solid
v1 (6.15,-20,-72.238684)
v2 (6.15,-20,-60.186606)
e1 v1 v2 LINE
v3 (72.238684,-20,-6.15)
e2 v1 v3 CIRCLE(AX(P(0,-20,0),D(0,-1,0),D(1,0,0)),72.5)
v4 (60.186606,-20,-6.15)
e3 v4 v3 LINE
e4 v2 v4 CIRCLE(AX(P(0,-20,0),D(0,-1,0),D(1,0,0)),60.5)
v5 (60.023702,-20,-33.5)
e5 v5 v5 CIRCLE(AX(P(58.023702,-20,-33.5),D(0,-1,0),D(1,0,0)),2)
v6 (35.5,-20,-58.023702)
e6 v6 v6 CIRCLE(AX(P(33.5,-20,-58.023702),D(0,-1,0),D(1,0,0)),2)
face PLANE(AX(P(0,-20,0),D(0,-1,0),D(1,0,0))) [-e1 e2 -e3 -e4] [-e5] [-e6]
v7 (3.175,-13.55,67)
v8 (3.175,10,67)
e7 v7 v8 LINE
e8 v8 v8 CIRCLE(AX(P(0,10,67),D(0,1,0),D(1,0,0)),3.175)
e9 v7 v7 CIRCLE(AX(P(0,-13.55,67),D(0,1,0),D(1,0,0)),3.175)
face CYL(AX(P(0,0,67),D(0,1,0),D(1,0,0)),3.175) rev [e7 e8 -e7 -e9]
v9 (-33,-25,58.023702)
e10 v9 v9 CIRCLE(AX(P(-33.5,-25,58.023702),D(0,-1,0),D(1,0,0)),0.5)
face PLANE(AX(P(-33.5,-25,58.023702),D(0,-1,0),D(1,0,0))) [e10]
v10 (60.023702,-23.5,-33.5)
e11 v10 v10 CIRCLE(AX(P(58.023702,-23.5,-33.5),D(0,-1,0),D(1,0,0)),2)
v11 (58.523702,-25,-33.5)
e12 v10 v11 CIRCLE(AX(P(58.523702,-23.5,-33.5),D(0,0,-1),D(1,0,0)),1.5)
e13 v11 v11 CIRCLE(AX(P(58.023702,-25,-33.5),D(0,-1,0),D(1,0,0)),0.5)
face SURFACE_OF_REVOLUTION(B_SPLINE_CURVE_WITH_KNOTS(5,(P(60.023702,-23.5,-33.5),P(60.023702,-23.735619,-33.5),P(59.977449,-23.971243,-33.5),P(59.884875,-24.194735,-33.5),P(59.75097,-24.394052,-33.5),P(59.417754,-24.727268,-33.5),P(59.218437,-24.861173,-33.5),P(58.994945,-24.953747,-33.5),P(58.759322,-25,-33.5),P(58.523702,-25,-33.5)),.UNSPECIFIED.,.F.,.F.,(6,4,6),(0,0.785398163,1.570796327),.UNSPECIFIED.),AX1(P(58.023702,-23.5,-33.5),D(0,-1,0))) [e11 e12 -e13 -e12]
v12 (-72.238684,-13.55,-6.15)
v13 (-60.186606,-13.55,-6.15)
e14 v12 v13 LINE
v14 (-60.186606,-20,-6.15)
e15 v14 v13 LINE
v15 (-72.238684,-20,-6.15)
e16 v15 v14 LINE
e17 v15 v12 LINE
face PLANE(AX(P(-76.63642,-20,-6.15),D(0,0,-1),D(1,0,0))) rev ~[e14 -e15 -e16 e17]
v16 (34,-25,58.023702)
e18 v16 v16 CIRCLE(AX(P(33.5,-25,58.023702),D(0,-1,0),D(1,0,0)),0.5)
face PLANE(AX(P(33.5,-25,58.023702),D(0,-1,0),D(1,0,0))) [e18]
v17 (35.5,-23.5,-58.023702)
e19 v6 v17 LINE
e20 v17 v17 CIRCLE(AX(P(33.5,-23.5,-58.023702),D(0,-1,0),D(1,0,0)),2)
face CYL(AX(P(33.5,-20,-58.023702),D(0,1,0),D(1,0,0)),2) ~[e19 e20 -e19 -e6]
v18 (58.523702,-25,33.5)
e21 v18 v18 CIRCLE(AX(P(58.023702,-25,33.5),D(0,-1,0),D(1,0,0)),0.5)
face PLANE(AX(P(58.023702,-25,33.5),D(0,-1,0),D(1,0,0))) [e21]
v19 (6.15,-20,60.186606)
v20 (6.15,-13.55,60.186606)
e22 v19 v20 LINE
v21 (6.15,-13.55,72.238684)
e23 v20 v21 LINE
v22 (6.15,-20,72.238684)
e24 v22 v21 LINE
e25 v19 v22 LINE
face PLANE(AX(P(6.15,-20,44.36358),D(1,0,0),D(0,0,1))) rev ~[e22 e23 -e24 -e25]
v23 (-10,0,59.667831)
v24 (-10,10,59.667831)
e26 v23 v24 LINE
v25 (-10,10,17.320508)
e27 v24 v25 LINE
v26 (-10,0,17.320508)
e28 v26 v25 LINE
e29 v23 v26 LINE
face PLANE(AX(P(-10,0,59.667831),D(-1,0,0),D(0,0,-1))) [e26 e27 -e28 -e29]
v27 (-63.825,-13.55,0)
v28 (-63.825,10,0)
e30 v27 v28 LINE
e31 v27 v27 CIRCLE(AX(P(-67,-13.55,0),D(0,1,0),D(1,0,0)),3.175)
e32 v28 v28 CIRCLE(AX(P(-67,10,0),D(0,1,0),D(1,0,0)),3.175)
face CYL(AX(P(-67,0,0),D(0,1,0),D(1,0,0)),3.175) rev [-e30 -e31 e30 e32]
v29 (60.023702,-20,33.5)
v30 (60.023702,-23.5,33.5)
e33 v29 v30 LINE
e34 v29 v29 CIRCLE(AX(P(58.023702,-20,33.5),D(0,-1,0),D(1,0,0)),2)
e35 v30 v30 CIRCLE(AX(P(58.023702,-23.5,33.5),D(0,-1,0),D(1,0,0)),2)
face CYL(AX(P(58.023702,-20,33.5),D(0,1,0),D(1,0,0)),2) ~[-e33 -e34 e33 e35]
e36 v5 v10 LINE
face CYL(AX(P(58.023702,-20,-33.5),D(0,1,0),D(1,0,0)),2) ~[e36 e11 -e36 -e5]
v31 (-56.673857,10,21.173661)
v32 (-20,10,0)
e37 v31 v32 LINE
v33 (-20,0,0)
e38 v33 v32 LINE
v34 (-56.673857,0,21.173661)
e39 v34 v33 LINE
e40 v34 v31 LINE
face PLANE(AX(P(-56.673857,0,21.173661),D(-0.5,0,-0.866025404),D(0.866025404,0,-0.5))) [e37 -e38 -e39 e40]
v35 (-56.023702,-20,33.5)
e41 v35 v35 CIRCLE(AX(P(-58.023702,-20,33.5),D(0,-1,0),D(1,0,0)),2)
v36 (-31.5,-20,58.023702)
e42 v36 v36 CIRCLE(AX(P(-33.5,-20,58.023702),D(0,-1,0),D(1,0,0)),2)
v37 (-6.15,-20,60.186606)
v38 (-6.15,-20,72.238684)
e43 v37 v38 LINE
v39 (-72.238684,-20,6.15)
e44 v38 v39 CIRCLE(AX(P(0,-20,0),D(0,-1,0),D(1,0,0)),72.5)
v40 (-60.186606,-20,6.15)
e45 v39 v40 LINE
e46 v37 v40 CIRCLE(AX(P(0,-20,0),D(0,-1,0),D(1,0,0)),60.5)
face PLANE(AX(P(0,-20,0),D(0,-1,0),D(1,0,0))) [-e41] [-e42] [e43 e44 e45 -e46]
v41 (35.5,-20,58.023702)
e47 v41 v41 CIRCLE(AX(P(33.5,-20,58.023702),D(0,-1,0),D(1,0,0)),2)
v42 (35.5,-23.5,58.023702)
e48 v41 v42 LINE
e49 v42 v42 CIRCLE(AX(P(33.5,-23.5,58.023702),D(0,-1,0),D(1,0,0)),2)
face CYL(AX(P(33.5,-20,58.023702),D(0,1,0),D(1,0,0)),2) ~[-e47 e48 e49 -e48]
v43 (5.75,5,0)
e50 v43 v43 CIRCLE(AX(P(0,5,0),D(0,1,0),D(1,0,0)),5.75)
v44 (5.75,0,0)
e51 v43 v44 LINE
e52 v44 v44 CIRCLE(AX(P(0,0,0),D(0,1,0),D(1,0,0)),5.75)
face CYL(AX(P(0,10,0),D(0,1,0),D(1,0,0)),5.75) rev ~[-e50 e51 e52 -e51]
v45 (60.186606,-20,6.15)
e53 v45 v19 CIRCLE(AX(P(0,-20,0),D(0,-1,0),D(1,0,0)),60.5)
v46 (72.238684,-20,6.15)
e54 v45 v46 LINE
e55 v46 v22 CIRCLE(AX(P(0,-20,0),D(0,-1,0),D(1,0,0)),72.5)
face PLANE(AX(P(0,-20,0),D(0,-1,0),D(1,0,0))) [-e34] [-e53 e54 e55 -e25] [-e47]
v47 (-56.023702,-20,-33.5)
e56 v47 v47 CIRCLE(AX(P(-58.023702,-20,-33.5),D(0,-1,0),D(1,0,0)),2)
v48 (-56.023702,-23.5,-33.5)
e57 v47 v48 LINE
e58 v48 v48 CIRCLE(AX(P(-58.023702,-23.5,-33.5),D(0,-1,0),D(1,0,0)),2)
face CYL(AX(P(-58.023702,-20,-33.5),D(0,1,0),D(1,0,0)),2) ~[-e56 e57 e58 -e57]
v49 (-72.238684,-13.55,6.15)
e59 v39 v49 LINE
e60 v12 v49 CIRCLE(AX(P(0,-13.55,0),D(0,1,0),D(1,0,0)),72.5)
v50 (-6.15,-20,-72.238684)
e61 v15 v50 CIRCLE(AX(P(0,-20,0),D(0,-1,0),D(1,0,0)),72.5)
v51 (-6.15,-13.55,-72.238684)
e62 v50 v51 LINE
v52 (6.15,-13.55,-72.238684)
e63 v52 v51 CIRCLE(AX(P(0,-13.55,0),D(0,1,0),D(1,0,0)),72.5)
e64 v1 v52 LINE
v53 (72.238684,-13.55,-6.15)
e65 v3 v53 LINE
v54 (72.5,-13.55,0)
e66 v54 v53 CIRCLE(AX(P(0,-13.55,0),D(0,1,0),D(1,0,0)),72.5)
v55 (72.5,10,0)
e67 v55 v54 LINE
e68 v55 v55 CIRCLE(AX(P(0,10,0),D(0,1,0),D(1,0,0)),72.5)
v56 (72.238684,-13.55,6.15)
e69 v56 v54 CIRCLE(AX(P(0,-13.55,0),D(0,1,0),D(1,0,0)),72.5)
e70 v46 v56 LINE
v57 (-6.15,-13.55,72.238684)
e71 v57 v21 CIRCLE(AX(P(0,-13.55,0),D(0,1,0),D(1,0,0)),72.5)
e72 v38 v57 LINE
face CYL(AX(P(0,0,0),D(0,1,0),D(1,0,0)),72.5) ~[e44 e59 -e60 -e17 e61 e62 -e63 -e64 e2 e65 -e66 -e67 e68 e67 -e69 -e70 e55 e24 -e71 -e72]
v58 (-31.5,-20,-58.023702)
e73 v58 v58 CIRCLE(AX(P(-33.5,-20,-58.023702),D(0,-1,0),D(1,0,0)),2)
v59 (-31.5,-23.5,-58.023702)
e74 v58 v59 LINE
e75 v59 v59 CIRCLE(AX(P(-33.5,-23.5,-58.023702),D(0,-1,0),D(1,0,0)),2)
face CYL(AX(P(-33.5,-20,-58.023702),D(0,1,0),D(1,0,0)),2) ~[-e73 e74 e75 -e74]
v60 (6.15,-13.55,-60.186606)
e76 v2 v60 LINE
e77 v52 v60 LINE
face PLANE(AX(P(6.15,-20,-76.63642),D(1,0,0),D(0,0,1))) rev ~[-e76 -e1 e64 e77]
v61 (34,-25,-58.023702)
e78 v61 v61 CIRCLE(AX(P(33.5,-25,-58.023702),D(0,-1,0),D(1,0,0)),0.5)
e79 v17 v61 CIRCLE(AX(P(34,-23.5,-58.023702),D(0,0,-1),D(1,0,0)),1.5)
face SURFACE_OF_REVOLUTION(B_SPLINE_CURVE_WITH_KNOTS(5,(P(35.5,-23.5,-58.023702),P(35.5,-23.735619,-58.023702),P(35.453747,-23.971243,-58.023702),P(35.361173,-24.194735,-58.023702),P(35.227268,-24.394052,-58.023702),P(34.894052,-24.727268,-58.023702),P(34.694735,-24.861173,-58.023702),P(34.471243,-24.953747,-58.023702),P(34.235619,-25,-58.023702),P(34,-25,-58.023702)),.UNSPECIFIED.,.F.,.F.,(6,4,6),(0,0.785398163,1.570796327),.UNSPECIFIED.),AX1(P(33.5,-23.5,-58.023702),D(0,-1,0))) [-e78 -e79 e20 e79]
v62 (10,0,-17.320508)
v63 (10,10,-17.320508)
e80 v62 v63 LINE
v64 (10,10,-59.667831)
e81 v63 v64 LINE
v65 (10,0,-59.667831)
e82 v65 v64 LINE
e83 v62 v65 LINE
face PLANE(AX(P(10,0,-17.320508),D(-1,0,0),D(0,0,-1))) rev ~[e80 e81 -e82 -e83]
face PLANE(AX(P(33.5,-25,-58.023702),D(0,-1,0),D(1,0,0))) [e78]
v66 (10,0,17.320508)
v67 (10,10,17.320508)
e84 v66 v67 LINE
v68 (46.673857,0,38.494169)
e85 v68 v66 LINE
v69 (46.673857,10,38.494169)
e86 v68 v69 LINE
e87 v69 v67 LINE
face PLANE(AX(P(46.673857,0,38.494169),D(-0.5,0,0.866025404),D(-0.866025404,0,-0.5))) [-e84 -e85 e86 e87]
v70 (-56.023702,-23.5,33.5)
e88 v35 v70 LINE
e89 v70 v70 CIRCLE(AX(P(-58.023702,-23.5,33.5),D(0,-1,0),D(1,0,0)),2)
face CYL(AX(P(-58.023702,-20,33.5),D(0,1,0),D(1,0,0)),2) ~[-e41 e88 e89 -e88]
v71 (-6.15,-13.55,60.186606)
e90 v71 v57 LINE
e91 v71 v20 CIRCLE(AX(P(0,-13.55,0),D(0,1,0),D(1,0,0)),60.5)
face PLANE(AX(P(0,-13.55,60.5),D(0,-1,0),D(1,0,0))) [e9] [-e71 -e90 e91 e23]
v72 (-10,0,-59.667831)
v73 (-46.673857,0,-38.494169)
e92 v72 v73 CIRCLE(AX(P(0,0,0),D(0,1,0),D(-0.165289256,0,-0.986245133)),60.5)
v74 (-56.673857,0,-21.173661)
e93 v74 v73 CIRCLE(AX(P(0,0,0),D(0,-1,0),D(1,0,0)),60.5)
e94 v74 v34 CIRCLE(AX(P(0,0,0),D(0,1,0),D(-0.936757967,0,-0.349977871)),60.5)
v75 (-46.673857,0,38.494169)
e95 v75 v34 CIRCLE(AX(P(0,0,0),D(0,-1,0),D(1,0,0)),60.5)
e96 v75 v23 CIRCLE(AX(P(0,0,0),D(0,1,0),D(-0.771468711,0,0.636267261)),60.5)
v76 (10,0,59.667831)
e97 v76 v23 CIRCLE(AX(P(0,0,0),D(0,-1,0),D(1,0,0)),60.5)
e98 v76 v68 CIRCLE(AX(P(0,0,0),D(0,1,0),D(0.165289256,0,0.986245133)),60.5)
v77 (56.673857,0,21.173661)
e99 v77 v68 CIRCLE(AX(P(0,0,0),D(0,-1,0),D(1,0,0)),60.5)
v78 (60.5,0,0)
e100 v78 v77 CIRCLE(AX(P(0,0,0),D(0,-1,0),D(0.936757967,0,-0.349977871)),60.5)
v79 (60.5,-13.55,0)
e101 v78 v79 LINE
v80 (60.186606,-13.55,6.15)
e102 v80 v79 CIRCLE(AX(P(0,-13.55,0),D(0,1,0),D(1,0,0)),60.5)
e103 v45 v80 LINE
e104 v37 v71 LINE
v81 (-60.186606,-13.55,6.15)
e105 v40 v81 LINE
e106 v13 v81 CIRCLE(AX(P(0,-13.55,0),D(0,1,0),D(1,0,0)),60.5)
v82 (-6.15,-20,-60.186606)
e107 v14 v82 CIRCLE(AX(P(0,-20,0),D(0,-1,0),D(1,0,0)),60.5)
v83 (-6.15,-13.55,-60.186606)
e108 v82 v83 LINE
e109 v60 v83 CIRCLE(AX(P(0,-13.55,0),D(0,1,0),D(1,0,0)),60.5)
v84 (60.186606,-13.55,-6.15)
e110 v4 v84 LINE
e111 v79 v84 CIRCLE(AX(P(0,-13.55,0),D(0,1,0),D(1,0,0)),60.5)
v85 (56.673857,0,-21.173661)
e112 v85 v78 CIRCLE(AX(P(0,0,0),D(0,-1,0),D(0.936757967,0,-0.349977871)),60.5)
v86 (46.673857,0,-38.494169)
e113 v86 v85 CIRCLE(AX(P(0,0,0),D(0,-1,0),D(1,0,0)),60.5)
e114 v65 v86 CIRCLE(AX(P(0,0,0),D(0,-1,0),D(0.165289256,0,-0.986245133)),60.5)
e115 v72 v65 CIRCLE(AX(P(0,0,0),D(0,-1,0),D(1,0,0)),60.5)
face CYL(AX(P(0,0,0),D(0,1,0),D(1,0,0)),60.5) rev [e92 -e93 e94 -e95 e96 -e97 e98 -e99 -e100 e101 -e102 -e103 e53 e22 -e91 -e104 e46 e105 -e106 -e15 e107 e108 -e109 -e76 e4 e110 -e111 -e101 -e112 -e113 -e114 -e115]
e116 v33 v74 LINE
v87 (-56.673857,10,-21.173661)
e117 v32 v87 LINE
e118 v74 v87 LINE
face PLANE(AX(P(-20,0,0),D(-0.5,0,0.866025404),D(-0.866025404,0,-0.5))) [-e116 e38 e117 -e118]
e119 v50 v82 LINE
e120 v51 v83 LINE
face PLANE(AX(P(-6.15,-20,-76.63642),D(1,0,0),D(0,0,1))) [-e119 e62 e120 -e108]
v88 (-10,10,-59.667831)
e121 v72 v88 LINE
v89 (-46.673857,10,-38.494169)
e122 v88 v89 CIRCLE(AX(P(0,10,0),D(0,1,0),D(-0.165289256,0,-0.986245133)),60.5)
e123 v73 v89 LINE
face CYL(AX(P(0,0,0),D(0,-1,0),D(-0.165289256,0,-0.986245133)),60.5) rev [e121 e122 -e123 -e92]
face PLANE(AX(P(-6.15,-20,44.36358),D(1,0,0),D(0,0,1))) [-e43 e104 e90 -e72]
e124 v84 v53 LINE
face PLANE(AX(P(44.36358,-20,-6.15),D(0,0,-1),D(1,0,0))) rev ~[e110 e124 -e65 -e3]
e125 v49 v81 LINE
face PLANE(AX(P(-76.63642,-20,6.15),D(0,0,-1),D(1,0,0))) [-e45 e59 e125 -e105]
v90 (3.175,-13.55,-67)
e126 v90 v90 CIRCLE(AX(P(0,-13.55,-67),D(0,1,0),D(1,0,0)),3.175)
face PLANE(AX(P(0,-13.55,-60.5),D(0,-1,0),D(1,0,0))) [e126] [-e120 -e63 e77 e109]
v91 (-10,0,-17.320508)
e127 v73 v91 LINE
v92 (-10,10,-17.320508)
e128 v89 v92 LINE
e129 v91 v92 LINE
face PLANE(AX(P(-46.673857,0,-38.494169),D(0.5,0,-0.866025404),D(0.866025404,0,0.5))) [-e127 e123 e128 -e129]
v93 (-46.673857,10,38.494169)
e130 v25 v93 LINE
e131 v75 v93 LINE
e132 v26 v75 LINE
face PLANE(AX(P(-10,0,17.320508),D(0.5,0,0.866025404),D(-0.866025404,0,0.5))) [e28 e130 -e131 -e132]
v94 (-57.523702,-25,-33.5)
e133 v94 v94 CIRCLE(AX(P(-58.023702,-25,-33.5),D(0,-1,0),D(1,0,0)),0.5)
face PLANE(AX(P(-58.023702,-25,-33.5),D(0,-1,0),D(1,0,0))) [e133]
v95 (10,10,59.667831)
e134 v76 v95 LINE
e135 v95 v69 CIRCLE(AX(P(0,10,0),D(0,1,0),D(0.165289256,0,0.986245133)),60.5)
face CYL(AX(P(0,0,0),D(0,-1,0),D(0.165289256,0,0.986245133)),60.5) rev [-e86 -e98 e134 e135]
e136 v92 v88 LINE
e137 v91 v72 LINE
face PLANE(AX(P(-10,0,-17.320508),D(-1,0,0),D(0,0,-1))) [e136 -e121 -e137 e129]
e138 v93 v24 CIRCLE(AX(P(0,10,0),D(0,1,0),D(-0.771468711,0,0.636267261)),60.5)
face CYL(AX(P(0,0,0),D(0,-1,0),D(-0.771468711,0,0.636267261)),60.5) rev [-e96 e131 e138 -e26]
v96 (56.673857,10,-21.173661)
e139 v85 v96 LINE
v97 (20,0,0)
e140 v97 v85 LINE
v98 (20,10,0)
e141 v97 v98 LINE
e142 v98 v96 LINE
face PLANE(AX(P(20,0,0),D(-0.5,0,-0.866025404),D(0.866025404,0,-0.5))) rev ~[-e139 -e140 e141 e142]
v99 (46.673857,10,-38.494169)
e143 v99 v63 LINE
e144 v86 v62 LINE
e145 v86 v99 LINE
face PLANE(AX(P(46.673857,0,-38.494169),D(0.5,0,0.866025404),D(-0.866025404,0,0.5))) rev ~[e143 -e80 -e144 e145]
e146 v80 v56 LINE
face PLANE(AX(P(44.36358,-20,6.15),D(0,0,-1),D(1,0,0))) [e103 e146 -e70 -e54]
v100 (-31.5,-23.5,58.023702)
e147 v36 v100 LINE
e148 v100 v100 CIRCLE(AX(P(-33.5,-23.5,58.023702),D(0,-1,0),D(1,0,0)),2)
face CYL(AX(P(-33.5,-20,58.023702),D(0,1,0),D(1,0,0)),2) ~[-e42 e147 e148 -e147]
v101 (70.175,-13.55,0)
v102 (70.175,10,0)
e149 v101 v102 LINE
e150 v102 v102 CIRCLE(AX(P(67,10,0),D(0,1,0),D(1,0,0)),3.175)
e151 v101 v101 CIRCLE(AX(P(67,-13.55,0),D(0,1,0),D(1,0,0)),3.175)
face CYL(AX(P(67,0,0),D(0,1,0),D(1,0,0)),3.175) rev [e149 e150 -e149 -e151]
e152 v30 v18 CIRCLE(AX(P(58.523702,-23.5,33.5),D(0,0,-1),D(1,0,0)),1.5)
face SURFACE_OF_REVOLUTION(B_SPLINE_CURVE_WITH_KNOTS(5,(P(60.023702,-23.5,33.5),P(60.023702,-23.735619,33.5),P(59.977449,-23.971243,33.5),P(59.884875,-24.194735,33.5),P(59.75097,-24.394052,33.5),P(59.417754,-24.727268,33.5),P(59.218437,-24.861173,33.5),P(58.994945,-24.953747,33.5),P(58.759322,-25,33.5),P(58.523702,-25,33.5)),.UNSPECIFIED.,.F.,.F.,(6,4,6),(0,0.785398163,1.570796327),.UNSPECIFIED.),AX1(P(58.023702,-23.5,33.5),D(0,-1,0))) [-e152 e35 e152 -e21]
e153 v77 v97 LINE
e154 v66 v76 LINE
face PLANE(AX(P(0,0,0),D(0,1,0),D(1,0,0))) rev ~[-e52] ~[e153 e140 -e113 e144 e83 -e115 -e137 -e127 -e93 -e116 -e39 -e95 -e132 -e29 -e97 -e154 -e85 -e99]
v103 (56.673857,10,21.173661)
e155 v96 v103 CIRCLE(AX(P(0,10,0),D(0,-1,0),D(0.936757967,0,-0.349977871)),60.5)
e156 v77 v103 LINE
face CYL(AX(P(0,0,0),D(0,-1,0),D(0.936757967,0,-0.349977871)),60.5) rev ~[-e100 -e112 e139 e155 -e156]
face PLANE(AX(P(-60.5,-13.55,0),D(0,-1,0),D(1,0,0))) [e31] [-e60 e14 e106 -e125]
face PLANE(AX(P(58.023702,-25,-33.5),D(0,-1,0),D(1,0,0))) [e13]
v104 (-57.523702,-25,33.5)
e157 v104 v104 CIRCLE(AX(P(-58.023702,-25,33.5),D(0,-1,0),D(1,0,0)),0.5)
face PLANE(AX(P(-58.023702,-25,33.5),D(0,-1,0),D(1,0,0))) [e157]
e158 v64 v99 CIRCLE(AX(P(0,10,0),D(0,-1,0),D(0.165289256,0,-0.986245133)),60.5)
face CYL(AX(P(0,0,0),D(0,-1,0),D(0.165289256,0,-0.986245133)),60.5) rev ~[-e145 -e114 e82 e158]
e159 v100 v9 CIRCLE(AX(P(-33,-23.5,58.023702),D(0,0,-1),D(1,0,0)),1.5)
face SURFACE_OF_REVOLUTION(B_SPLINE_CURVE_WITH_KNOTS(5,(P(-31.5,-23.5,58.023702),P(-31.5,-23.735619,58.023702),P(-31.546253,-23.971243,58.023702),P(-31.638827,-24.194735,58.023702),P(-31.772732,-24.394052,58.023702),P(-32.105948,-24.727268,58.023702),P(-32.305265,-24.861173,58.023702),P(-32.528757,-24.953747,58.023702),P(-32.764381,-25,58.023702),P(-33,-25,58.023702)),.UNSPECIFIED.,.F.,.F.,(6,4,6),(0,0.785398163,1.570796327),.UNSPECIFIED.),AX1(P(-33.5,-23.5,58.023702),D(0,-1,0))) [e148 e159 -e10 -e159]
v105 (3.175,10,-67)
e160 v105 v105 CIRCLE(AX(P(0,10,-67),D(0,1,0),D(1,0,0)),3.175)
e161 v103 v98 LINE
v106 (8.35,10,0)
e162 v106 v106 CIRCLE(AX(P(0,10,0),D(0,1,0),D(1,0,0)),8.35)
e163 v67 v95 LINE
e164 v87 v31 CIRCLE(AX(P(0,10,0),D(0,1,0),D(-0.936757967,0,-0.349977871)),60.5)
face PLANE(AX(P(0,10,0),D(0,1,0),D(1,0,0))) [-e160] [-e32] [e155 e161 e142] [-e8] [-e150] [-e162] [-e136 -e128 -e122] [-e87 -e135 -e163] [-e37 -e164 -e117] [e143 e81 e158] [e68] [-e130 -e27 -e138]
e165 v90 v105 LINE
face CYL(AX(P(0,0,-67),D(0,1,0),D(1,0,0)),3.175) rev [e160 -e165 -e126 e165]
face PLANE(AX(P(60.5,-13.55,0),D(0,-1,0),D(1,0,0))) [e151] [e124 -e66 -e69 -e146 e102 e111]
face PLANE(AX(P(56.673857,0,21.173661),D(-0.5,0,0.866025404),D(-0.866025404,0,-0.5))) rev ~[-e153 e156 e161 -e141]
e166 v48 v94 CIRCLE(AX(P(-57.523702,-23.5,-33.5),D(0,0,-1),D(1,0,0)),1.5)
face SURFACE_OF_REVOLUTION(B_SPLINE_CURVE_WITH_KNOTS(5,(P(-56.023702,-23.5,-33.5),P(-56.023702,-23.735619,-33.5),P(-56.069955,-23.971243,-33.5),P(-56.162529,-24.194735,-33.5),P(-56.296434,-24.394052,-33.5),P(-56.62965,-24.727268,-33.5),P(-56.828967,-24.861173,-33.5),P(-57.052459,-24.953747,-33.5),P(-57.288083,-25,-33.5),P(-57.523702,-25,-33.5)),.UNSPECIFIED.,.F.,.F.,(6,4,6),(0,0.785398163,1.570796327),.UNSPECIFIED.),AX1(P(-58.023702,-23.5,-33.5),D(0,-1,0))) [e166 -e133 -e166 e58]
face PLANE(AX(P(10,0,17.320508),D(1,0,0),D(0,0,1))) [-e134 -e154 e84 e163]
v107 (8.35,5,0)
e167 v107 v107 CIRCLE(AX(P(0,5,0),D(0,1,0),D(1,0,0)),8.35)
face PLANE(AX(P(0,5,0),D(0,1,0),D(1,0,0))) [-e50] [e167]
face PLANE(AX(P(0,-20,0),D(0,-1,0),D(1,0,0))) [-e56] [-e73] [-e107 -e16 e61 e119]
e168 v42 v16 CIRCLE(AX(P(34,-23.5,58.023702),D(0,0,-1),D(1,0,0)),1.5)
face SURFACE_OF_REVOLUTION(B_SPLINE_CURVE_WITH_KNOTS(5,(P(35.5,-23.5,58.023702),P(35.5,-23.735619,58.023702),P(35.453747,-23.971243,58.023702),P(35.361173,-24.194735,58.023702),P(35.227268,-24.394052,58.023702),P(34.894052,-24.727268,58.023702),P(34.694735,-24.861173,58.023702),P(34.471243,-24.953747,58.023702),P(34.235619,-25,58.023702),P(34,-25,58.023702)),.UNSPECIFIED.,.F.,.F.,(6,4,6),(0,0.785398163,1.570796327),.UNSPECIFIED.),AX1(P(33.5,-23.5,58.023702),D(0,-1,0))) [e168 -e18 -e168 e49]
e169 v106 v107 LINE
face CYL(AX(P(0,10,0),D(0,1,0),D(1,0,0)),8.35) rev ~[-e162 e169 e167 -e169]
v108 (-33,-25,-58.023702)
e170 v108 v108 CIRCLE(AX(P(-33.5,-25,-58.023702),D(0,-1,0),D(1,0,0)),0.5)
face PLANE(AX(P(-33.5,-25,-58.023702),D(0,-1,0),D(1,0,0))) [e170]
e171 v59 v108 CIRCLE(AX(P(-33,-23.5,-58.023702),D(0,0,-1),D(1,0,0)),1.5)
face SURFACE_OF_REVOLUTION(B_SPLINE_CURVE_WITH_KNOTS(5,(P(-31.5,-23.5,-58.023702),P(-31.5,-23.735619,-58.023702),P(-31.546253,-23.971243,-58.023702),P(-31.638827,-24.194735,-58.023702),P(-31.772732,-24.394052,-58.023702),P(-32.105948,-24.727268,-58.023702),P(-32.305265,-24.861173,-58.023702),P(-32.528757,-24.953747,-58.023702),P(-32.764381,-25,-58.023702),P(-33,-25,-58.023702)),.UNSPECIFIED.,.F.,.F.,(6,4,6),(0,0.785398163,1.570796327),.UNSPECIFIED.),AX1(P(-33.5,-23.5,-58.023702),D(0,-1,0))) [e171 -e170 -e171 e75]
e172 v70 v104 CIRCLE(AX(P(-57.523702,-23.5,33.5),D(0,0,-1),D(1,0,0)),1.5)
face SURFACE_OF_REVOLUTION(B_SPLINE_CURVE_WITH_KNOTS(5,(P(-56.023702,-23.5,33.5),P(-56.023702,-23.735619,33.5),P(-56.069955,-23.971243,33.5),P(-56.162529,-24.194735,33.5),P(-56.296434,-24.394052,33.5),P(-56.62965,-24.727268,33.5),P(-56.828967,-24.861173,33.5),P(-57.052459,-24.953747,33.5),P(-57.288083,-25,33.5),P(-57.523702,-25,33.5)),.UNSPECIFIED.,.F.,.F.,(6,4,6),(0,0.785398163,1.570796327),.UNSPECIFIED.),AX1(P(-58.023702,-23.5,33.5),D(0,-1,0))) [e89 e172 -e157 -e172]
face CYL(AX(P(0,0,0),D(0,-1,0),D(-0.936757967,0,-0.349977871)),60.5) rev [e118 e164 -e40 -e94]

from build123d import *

# Parameters (mm, degrees)
SKETCH1_R               = 72.5
SKETCH1_R_2             = 3.175
BOSS_EXTRUDE1_DEPTH     = 10
SKETCH8_R               = 8.35
CUT_EXTRUDE4_DEPTH      = 5
SKETCH9_R               = 5.75
CUT_EXTRUDE5_DEPTH      = 1
CUT_EXTRUDE5_DEPTH_BACK = 11
SKETCH10_R              = 72.5
SKETCH10_R_2            = 60.5
SKETCH10_R_3            = 3.175
BOSS_EXTRUDE4_DEPTH     = 20
SKETCH11_W              = 32.27284004
SKETCH11_H              = 12.3
SKETCH11_W_2            = 12.3
SKETCH11_H_2            = 32.27284004
CUT_EXTRUDE6_DEPTH      = 6.45
SKETCH12_R              = 2
BOSS_EXTRUDE5_DEPTH     = 5
FILLET1_R               = 1.5


with BuildPart() as part:
    # Sketch1 → Boss-Extrude1 (new body)
    with BuildSketch(Plane(origin=(0, 0, 0), x_dir=(1, 0, 0), z_dir=(0, 1, 0))):
        Circle(SKETCH1_R)
        with Locations((0, 67)):
            Circle(SKETCH1_R_2, mode=Mode.SUBTRACT)
        with Locations((67, 0)):
            Circle(SKETCH1_R_2, mode=Mode.SUBTRACT)
        with Locations((0, -67)):
            Circle(SKETCH1_R_2, mode=Mode.SUBTRACT)
        with Locations((-67, 0)):
            Circle(SKETCH1_R_2, mode=Mode.SUBTRACT)
        with BuildLine():
            Line((10, 17.320508076), (10, 59.667830529))
            ThreePointArc((10, 59.667830529), (30.25, 52.394536929), (46.673857027, 38.494169302))
            Line((46.673857027, 38.494169302), (10, 17.320508076))
        make_face(mode=Mode.SUBTRACT)
        with BuildLine():
            Line((-10, 17.320508076), (-10, 59.667830529))
            ThreePointArc((-10, 59.667830529), (-30.25, 52.394536929), (-46.673857027, 38.494169302))
            Line((-46.673857027, 38.494169302), (-10, 17.320508076))
        make_face(mode=Mode.SUBTRACT)
        with BuildLine():
            Line((-20, 0), (-56.673857027, 21.173661227))
            ThreePointArc((-56.673857027, 21.173661227), (-60.5, 0), (-56.673857027, -21.173661226))
            Line((-56.673857027, -21.173661226), (-20, 0))
        make_face(mode=Mode.SUBTRACT)
        with BuildLine():
            Line((-10, -17.320508076), (-46.673857027, -38.494169302))
            ThreePointArc((-46.673857027, -38.494169302), (-30.25, -52.394536929), (-10, -59.667830529))
            Line((-10, -59.667830529), (-10, -17.320508076))
        make_face(mode=Mode.SUBTRACT)
        with BuildLine():
            Line((10, -17.320508076), (10, -59.667830529))
            ThreePointArc((10, -59.667830529), (30.25, -52.394536929), (46.673857027, -38.494169302))
            Line((46.673857027, -38.494169302), (10, -17.320508076))
        make_face(mode=Mode.SUBTRACT)
        with BuildLine():
            Line((20, 0), (56.673857027, 21.173661227))
            ThreePointArc((56.673857027, 21.173661227), (60.5, 0), (56.673857027, -21.173661226))
            Line((56.673857027, -21.173661226), (20, 0))
        make_face(mode=Mode.SUBTRACT)
    extrude(amount=BOSS_EXTRUDE1_DEPTH)

    # Sketch8 → Cut-Extrude4 (cut)
    with BuildSketch(Plane(origin=(0, 10, 0), x_dir=(1, 0, 0), z_dir=(0, 1, 0))):
        Circle(SKETCH8_R)
    extrude(amount=-CUT_EXTRUDE4_DEPTH, mode=Mode.SUBTRACT)

    # Sketch9 → Cut-Extrude5 (cut, two sides)
    with BuildSketch(Plane(origin=(0, 10, 0), x_dir=(1, 0, 0), z_dir=(0, 1, 0))) as cut_extrude5_sk:
        Circle(SKETCH9_R)
    extrude(amount=CUT_EXTRUDE5_DEPTH, mode=Mode.SUBTRACT)
    extrude(cut_extrude5_sk.sketch, amount=-CUT_EXTRUDE5_DEPTH_BACK, mode=Mode.SUBTRACT)

    # Sketch10 → Boss-Extrude4 (add)
    with BuildSketch(Plane.XZ):
        Circle(SKETCH10_R)
        Circle(SKETCH10_R_2, mode=Mode.SUBTRACT)
        with Locations((0, -67)):
            Circle(SKETCH10_R_3, mode=Mode.SUBTRACT)
        with Locations((-67, 0)):
            Circle(SKETCH10_R_3, mode=Mode.SUBTRACT)
        with Locations((0, 67)):
            Circle(SKETCH10_R_3, mode=Mode.SUBTRACT)
        with Locations((67, 0)):
            Circle(SKETCH10_R_3, mode=Mode.SUBTRACT)
    extrude(amount=BOSS_EXTRUDE4_DEPTH)

    # Sketch11 → Cut-Extrude6 (cut)
    with BuildSketch(Plane.XZ.offset(20)):
        with Locations((-60.5, 0)):
            Rectangle(SKETCH11_W, SKETCH11_H)
        with Locations((0, -60.5)):
            Rectangle(SKETCH11_W_2, SKETCH11_H_2)
        with Locations((0, 60.5)):
            Rectangle(SKETCH11_W_2, SKETCH11_H_2)
        with Locations((60.5, 0)):
            Rectangle(SKETCH11_W, SKETCH11_H)
    extrude(amount=-CUT_EXTRUDE6_DEPTH, mode=Mode.SUBTRACT)

    # Sketch12 → Boss-Extrude5 (add)
    with BuildSketch(Plane.XZ.offset(20)):
        with Locations((33.5, 58.023702054)):
            Circle(SKETCH12_R)
        with Locations((58.023702054, 33.5)):
            Circle(SKETCH12_R)
        with Locations((33.5, -58.023702054)):
            Circle(SKETCH12_R)
        with Locations((58.023702054, -33.5)):
            Circle(SKETCH12_R)
        with Locations((-58.023702054, -33.5)):
            Circle(SKETCH12_R)
        with Locations((-33.5, -58.023702054)):
            Circle(SKETCH12_R)
        with Locations((-33.5, 58.023702054)):
            Circle(SKETCH12_R)
        with Locations((-58.023702054, 33.5)):
            Circle(SKETCH12_R)
    extrude(amount=BOSS_EXTRUDE5_DEPTH)

    # Fillet1
    fillet1_edges = [part.edges().sort_by_distance(p)[0] for p in [
        (31.5, -25, 58.023702054),
        (56.023702054, -25, 33.5),
        (56.023702054, -25, -33.5),
        (31.5, -25, -58.023702054),
        (-35.5, -25, -58.023702054),
        (-60.023702054, -25, -33.5),
        (-60.023702054, -25, 33.5),
        (-35.5, -25, 58.023702054),
    ]]
    fillet(fillet1_edges, radius=FILLET1_R)


solid = part.part
